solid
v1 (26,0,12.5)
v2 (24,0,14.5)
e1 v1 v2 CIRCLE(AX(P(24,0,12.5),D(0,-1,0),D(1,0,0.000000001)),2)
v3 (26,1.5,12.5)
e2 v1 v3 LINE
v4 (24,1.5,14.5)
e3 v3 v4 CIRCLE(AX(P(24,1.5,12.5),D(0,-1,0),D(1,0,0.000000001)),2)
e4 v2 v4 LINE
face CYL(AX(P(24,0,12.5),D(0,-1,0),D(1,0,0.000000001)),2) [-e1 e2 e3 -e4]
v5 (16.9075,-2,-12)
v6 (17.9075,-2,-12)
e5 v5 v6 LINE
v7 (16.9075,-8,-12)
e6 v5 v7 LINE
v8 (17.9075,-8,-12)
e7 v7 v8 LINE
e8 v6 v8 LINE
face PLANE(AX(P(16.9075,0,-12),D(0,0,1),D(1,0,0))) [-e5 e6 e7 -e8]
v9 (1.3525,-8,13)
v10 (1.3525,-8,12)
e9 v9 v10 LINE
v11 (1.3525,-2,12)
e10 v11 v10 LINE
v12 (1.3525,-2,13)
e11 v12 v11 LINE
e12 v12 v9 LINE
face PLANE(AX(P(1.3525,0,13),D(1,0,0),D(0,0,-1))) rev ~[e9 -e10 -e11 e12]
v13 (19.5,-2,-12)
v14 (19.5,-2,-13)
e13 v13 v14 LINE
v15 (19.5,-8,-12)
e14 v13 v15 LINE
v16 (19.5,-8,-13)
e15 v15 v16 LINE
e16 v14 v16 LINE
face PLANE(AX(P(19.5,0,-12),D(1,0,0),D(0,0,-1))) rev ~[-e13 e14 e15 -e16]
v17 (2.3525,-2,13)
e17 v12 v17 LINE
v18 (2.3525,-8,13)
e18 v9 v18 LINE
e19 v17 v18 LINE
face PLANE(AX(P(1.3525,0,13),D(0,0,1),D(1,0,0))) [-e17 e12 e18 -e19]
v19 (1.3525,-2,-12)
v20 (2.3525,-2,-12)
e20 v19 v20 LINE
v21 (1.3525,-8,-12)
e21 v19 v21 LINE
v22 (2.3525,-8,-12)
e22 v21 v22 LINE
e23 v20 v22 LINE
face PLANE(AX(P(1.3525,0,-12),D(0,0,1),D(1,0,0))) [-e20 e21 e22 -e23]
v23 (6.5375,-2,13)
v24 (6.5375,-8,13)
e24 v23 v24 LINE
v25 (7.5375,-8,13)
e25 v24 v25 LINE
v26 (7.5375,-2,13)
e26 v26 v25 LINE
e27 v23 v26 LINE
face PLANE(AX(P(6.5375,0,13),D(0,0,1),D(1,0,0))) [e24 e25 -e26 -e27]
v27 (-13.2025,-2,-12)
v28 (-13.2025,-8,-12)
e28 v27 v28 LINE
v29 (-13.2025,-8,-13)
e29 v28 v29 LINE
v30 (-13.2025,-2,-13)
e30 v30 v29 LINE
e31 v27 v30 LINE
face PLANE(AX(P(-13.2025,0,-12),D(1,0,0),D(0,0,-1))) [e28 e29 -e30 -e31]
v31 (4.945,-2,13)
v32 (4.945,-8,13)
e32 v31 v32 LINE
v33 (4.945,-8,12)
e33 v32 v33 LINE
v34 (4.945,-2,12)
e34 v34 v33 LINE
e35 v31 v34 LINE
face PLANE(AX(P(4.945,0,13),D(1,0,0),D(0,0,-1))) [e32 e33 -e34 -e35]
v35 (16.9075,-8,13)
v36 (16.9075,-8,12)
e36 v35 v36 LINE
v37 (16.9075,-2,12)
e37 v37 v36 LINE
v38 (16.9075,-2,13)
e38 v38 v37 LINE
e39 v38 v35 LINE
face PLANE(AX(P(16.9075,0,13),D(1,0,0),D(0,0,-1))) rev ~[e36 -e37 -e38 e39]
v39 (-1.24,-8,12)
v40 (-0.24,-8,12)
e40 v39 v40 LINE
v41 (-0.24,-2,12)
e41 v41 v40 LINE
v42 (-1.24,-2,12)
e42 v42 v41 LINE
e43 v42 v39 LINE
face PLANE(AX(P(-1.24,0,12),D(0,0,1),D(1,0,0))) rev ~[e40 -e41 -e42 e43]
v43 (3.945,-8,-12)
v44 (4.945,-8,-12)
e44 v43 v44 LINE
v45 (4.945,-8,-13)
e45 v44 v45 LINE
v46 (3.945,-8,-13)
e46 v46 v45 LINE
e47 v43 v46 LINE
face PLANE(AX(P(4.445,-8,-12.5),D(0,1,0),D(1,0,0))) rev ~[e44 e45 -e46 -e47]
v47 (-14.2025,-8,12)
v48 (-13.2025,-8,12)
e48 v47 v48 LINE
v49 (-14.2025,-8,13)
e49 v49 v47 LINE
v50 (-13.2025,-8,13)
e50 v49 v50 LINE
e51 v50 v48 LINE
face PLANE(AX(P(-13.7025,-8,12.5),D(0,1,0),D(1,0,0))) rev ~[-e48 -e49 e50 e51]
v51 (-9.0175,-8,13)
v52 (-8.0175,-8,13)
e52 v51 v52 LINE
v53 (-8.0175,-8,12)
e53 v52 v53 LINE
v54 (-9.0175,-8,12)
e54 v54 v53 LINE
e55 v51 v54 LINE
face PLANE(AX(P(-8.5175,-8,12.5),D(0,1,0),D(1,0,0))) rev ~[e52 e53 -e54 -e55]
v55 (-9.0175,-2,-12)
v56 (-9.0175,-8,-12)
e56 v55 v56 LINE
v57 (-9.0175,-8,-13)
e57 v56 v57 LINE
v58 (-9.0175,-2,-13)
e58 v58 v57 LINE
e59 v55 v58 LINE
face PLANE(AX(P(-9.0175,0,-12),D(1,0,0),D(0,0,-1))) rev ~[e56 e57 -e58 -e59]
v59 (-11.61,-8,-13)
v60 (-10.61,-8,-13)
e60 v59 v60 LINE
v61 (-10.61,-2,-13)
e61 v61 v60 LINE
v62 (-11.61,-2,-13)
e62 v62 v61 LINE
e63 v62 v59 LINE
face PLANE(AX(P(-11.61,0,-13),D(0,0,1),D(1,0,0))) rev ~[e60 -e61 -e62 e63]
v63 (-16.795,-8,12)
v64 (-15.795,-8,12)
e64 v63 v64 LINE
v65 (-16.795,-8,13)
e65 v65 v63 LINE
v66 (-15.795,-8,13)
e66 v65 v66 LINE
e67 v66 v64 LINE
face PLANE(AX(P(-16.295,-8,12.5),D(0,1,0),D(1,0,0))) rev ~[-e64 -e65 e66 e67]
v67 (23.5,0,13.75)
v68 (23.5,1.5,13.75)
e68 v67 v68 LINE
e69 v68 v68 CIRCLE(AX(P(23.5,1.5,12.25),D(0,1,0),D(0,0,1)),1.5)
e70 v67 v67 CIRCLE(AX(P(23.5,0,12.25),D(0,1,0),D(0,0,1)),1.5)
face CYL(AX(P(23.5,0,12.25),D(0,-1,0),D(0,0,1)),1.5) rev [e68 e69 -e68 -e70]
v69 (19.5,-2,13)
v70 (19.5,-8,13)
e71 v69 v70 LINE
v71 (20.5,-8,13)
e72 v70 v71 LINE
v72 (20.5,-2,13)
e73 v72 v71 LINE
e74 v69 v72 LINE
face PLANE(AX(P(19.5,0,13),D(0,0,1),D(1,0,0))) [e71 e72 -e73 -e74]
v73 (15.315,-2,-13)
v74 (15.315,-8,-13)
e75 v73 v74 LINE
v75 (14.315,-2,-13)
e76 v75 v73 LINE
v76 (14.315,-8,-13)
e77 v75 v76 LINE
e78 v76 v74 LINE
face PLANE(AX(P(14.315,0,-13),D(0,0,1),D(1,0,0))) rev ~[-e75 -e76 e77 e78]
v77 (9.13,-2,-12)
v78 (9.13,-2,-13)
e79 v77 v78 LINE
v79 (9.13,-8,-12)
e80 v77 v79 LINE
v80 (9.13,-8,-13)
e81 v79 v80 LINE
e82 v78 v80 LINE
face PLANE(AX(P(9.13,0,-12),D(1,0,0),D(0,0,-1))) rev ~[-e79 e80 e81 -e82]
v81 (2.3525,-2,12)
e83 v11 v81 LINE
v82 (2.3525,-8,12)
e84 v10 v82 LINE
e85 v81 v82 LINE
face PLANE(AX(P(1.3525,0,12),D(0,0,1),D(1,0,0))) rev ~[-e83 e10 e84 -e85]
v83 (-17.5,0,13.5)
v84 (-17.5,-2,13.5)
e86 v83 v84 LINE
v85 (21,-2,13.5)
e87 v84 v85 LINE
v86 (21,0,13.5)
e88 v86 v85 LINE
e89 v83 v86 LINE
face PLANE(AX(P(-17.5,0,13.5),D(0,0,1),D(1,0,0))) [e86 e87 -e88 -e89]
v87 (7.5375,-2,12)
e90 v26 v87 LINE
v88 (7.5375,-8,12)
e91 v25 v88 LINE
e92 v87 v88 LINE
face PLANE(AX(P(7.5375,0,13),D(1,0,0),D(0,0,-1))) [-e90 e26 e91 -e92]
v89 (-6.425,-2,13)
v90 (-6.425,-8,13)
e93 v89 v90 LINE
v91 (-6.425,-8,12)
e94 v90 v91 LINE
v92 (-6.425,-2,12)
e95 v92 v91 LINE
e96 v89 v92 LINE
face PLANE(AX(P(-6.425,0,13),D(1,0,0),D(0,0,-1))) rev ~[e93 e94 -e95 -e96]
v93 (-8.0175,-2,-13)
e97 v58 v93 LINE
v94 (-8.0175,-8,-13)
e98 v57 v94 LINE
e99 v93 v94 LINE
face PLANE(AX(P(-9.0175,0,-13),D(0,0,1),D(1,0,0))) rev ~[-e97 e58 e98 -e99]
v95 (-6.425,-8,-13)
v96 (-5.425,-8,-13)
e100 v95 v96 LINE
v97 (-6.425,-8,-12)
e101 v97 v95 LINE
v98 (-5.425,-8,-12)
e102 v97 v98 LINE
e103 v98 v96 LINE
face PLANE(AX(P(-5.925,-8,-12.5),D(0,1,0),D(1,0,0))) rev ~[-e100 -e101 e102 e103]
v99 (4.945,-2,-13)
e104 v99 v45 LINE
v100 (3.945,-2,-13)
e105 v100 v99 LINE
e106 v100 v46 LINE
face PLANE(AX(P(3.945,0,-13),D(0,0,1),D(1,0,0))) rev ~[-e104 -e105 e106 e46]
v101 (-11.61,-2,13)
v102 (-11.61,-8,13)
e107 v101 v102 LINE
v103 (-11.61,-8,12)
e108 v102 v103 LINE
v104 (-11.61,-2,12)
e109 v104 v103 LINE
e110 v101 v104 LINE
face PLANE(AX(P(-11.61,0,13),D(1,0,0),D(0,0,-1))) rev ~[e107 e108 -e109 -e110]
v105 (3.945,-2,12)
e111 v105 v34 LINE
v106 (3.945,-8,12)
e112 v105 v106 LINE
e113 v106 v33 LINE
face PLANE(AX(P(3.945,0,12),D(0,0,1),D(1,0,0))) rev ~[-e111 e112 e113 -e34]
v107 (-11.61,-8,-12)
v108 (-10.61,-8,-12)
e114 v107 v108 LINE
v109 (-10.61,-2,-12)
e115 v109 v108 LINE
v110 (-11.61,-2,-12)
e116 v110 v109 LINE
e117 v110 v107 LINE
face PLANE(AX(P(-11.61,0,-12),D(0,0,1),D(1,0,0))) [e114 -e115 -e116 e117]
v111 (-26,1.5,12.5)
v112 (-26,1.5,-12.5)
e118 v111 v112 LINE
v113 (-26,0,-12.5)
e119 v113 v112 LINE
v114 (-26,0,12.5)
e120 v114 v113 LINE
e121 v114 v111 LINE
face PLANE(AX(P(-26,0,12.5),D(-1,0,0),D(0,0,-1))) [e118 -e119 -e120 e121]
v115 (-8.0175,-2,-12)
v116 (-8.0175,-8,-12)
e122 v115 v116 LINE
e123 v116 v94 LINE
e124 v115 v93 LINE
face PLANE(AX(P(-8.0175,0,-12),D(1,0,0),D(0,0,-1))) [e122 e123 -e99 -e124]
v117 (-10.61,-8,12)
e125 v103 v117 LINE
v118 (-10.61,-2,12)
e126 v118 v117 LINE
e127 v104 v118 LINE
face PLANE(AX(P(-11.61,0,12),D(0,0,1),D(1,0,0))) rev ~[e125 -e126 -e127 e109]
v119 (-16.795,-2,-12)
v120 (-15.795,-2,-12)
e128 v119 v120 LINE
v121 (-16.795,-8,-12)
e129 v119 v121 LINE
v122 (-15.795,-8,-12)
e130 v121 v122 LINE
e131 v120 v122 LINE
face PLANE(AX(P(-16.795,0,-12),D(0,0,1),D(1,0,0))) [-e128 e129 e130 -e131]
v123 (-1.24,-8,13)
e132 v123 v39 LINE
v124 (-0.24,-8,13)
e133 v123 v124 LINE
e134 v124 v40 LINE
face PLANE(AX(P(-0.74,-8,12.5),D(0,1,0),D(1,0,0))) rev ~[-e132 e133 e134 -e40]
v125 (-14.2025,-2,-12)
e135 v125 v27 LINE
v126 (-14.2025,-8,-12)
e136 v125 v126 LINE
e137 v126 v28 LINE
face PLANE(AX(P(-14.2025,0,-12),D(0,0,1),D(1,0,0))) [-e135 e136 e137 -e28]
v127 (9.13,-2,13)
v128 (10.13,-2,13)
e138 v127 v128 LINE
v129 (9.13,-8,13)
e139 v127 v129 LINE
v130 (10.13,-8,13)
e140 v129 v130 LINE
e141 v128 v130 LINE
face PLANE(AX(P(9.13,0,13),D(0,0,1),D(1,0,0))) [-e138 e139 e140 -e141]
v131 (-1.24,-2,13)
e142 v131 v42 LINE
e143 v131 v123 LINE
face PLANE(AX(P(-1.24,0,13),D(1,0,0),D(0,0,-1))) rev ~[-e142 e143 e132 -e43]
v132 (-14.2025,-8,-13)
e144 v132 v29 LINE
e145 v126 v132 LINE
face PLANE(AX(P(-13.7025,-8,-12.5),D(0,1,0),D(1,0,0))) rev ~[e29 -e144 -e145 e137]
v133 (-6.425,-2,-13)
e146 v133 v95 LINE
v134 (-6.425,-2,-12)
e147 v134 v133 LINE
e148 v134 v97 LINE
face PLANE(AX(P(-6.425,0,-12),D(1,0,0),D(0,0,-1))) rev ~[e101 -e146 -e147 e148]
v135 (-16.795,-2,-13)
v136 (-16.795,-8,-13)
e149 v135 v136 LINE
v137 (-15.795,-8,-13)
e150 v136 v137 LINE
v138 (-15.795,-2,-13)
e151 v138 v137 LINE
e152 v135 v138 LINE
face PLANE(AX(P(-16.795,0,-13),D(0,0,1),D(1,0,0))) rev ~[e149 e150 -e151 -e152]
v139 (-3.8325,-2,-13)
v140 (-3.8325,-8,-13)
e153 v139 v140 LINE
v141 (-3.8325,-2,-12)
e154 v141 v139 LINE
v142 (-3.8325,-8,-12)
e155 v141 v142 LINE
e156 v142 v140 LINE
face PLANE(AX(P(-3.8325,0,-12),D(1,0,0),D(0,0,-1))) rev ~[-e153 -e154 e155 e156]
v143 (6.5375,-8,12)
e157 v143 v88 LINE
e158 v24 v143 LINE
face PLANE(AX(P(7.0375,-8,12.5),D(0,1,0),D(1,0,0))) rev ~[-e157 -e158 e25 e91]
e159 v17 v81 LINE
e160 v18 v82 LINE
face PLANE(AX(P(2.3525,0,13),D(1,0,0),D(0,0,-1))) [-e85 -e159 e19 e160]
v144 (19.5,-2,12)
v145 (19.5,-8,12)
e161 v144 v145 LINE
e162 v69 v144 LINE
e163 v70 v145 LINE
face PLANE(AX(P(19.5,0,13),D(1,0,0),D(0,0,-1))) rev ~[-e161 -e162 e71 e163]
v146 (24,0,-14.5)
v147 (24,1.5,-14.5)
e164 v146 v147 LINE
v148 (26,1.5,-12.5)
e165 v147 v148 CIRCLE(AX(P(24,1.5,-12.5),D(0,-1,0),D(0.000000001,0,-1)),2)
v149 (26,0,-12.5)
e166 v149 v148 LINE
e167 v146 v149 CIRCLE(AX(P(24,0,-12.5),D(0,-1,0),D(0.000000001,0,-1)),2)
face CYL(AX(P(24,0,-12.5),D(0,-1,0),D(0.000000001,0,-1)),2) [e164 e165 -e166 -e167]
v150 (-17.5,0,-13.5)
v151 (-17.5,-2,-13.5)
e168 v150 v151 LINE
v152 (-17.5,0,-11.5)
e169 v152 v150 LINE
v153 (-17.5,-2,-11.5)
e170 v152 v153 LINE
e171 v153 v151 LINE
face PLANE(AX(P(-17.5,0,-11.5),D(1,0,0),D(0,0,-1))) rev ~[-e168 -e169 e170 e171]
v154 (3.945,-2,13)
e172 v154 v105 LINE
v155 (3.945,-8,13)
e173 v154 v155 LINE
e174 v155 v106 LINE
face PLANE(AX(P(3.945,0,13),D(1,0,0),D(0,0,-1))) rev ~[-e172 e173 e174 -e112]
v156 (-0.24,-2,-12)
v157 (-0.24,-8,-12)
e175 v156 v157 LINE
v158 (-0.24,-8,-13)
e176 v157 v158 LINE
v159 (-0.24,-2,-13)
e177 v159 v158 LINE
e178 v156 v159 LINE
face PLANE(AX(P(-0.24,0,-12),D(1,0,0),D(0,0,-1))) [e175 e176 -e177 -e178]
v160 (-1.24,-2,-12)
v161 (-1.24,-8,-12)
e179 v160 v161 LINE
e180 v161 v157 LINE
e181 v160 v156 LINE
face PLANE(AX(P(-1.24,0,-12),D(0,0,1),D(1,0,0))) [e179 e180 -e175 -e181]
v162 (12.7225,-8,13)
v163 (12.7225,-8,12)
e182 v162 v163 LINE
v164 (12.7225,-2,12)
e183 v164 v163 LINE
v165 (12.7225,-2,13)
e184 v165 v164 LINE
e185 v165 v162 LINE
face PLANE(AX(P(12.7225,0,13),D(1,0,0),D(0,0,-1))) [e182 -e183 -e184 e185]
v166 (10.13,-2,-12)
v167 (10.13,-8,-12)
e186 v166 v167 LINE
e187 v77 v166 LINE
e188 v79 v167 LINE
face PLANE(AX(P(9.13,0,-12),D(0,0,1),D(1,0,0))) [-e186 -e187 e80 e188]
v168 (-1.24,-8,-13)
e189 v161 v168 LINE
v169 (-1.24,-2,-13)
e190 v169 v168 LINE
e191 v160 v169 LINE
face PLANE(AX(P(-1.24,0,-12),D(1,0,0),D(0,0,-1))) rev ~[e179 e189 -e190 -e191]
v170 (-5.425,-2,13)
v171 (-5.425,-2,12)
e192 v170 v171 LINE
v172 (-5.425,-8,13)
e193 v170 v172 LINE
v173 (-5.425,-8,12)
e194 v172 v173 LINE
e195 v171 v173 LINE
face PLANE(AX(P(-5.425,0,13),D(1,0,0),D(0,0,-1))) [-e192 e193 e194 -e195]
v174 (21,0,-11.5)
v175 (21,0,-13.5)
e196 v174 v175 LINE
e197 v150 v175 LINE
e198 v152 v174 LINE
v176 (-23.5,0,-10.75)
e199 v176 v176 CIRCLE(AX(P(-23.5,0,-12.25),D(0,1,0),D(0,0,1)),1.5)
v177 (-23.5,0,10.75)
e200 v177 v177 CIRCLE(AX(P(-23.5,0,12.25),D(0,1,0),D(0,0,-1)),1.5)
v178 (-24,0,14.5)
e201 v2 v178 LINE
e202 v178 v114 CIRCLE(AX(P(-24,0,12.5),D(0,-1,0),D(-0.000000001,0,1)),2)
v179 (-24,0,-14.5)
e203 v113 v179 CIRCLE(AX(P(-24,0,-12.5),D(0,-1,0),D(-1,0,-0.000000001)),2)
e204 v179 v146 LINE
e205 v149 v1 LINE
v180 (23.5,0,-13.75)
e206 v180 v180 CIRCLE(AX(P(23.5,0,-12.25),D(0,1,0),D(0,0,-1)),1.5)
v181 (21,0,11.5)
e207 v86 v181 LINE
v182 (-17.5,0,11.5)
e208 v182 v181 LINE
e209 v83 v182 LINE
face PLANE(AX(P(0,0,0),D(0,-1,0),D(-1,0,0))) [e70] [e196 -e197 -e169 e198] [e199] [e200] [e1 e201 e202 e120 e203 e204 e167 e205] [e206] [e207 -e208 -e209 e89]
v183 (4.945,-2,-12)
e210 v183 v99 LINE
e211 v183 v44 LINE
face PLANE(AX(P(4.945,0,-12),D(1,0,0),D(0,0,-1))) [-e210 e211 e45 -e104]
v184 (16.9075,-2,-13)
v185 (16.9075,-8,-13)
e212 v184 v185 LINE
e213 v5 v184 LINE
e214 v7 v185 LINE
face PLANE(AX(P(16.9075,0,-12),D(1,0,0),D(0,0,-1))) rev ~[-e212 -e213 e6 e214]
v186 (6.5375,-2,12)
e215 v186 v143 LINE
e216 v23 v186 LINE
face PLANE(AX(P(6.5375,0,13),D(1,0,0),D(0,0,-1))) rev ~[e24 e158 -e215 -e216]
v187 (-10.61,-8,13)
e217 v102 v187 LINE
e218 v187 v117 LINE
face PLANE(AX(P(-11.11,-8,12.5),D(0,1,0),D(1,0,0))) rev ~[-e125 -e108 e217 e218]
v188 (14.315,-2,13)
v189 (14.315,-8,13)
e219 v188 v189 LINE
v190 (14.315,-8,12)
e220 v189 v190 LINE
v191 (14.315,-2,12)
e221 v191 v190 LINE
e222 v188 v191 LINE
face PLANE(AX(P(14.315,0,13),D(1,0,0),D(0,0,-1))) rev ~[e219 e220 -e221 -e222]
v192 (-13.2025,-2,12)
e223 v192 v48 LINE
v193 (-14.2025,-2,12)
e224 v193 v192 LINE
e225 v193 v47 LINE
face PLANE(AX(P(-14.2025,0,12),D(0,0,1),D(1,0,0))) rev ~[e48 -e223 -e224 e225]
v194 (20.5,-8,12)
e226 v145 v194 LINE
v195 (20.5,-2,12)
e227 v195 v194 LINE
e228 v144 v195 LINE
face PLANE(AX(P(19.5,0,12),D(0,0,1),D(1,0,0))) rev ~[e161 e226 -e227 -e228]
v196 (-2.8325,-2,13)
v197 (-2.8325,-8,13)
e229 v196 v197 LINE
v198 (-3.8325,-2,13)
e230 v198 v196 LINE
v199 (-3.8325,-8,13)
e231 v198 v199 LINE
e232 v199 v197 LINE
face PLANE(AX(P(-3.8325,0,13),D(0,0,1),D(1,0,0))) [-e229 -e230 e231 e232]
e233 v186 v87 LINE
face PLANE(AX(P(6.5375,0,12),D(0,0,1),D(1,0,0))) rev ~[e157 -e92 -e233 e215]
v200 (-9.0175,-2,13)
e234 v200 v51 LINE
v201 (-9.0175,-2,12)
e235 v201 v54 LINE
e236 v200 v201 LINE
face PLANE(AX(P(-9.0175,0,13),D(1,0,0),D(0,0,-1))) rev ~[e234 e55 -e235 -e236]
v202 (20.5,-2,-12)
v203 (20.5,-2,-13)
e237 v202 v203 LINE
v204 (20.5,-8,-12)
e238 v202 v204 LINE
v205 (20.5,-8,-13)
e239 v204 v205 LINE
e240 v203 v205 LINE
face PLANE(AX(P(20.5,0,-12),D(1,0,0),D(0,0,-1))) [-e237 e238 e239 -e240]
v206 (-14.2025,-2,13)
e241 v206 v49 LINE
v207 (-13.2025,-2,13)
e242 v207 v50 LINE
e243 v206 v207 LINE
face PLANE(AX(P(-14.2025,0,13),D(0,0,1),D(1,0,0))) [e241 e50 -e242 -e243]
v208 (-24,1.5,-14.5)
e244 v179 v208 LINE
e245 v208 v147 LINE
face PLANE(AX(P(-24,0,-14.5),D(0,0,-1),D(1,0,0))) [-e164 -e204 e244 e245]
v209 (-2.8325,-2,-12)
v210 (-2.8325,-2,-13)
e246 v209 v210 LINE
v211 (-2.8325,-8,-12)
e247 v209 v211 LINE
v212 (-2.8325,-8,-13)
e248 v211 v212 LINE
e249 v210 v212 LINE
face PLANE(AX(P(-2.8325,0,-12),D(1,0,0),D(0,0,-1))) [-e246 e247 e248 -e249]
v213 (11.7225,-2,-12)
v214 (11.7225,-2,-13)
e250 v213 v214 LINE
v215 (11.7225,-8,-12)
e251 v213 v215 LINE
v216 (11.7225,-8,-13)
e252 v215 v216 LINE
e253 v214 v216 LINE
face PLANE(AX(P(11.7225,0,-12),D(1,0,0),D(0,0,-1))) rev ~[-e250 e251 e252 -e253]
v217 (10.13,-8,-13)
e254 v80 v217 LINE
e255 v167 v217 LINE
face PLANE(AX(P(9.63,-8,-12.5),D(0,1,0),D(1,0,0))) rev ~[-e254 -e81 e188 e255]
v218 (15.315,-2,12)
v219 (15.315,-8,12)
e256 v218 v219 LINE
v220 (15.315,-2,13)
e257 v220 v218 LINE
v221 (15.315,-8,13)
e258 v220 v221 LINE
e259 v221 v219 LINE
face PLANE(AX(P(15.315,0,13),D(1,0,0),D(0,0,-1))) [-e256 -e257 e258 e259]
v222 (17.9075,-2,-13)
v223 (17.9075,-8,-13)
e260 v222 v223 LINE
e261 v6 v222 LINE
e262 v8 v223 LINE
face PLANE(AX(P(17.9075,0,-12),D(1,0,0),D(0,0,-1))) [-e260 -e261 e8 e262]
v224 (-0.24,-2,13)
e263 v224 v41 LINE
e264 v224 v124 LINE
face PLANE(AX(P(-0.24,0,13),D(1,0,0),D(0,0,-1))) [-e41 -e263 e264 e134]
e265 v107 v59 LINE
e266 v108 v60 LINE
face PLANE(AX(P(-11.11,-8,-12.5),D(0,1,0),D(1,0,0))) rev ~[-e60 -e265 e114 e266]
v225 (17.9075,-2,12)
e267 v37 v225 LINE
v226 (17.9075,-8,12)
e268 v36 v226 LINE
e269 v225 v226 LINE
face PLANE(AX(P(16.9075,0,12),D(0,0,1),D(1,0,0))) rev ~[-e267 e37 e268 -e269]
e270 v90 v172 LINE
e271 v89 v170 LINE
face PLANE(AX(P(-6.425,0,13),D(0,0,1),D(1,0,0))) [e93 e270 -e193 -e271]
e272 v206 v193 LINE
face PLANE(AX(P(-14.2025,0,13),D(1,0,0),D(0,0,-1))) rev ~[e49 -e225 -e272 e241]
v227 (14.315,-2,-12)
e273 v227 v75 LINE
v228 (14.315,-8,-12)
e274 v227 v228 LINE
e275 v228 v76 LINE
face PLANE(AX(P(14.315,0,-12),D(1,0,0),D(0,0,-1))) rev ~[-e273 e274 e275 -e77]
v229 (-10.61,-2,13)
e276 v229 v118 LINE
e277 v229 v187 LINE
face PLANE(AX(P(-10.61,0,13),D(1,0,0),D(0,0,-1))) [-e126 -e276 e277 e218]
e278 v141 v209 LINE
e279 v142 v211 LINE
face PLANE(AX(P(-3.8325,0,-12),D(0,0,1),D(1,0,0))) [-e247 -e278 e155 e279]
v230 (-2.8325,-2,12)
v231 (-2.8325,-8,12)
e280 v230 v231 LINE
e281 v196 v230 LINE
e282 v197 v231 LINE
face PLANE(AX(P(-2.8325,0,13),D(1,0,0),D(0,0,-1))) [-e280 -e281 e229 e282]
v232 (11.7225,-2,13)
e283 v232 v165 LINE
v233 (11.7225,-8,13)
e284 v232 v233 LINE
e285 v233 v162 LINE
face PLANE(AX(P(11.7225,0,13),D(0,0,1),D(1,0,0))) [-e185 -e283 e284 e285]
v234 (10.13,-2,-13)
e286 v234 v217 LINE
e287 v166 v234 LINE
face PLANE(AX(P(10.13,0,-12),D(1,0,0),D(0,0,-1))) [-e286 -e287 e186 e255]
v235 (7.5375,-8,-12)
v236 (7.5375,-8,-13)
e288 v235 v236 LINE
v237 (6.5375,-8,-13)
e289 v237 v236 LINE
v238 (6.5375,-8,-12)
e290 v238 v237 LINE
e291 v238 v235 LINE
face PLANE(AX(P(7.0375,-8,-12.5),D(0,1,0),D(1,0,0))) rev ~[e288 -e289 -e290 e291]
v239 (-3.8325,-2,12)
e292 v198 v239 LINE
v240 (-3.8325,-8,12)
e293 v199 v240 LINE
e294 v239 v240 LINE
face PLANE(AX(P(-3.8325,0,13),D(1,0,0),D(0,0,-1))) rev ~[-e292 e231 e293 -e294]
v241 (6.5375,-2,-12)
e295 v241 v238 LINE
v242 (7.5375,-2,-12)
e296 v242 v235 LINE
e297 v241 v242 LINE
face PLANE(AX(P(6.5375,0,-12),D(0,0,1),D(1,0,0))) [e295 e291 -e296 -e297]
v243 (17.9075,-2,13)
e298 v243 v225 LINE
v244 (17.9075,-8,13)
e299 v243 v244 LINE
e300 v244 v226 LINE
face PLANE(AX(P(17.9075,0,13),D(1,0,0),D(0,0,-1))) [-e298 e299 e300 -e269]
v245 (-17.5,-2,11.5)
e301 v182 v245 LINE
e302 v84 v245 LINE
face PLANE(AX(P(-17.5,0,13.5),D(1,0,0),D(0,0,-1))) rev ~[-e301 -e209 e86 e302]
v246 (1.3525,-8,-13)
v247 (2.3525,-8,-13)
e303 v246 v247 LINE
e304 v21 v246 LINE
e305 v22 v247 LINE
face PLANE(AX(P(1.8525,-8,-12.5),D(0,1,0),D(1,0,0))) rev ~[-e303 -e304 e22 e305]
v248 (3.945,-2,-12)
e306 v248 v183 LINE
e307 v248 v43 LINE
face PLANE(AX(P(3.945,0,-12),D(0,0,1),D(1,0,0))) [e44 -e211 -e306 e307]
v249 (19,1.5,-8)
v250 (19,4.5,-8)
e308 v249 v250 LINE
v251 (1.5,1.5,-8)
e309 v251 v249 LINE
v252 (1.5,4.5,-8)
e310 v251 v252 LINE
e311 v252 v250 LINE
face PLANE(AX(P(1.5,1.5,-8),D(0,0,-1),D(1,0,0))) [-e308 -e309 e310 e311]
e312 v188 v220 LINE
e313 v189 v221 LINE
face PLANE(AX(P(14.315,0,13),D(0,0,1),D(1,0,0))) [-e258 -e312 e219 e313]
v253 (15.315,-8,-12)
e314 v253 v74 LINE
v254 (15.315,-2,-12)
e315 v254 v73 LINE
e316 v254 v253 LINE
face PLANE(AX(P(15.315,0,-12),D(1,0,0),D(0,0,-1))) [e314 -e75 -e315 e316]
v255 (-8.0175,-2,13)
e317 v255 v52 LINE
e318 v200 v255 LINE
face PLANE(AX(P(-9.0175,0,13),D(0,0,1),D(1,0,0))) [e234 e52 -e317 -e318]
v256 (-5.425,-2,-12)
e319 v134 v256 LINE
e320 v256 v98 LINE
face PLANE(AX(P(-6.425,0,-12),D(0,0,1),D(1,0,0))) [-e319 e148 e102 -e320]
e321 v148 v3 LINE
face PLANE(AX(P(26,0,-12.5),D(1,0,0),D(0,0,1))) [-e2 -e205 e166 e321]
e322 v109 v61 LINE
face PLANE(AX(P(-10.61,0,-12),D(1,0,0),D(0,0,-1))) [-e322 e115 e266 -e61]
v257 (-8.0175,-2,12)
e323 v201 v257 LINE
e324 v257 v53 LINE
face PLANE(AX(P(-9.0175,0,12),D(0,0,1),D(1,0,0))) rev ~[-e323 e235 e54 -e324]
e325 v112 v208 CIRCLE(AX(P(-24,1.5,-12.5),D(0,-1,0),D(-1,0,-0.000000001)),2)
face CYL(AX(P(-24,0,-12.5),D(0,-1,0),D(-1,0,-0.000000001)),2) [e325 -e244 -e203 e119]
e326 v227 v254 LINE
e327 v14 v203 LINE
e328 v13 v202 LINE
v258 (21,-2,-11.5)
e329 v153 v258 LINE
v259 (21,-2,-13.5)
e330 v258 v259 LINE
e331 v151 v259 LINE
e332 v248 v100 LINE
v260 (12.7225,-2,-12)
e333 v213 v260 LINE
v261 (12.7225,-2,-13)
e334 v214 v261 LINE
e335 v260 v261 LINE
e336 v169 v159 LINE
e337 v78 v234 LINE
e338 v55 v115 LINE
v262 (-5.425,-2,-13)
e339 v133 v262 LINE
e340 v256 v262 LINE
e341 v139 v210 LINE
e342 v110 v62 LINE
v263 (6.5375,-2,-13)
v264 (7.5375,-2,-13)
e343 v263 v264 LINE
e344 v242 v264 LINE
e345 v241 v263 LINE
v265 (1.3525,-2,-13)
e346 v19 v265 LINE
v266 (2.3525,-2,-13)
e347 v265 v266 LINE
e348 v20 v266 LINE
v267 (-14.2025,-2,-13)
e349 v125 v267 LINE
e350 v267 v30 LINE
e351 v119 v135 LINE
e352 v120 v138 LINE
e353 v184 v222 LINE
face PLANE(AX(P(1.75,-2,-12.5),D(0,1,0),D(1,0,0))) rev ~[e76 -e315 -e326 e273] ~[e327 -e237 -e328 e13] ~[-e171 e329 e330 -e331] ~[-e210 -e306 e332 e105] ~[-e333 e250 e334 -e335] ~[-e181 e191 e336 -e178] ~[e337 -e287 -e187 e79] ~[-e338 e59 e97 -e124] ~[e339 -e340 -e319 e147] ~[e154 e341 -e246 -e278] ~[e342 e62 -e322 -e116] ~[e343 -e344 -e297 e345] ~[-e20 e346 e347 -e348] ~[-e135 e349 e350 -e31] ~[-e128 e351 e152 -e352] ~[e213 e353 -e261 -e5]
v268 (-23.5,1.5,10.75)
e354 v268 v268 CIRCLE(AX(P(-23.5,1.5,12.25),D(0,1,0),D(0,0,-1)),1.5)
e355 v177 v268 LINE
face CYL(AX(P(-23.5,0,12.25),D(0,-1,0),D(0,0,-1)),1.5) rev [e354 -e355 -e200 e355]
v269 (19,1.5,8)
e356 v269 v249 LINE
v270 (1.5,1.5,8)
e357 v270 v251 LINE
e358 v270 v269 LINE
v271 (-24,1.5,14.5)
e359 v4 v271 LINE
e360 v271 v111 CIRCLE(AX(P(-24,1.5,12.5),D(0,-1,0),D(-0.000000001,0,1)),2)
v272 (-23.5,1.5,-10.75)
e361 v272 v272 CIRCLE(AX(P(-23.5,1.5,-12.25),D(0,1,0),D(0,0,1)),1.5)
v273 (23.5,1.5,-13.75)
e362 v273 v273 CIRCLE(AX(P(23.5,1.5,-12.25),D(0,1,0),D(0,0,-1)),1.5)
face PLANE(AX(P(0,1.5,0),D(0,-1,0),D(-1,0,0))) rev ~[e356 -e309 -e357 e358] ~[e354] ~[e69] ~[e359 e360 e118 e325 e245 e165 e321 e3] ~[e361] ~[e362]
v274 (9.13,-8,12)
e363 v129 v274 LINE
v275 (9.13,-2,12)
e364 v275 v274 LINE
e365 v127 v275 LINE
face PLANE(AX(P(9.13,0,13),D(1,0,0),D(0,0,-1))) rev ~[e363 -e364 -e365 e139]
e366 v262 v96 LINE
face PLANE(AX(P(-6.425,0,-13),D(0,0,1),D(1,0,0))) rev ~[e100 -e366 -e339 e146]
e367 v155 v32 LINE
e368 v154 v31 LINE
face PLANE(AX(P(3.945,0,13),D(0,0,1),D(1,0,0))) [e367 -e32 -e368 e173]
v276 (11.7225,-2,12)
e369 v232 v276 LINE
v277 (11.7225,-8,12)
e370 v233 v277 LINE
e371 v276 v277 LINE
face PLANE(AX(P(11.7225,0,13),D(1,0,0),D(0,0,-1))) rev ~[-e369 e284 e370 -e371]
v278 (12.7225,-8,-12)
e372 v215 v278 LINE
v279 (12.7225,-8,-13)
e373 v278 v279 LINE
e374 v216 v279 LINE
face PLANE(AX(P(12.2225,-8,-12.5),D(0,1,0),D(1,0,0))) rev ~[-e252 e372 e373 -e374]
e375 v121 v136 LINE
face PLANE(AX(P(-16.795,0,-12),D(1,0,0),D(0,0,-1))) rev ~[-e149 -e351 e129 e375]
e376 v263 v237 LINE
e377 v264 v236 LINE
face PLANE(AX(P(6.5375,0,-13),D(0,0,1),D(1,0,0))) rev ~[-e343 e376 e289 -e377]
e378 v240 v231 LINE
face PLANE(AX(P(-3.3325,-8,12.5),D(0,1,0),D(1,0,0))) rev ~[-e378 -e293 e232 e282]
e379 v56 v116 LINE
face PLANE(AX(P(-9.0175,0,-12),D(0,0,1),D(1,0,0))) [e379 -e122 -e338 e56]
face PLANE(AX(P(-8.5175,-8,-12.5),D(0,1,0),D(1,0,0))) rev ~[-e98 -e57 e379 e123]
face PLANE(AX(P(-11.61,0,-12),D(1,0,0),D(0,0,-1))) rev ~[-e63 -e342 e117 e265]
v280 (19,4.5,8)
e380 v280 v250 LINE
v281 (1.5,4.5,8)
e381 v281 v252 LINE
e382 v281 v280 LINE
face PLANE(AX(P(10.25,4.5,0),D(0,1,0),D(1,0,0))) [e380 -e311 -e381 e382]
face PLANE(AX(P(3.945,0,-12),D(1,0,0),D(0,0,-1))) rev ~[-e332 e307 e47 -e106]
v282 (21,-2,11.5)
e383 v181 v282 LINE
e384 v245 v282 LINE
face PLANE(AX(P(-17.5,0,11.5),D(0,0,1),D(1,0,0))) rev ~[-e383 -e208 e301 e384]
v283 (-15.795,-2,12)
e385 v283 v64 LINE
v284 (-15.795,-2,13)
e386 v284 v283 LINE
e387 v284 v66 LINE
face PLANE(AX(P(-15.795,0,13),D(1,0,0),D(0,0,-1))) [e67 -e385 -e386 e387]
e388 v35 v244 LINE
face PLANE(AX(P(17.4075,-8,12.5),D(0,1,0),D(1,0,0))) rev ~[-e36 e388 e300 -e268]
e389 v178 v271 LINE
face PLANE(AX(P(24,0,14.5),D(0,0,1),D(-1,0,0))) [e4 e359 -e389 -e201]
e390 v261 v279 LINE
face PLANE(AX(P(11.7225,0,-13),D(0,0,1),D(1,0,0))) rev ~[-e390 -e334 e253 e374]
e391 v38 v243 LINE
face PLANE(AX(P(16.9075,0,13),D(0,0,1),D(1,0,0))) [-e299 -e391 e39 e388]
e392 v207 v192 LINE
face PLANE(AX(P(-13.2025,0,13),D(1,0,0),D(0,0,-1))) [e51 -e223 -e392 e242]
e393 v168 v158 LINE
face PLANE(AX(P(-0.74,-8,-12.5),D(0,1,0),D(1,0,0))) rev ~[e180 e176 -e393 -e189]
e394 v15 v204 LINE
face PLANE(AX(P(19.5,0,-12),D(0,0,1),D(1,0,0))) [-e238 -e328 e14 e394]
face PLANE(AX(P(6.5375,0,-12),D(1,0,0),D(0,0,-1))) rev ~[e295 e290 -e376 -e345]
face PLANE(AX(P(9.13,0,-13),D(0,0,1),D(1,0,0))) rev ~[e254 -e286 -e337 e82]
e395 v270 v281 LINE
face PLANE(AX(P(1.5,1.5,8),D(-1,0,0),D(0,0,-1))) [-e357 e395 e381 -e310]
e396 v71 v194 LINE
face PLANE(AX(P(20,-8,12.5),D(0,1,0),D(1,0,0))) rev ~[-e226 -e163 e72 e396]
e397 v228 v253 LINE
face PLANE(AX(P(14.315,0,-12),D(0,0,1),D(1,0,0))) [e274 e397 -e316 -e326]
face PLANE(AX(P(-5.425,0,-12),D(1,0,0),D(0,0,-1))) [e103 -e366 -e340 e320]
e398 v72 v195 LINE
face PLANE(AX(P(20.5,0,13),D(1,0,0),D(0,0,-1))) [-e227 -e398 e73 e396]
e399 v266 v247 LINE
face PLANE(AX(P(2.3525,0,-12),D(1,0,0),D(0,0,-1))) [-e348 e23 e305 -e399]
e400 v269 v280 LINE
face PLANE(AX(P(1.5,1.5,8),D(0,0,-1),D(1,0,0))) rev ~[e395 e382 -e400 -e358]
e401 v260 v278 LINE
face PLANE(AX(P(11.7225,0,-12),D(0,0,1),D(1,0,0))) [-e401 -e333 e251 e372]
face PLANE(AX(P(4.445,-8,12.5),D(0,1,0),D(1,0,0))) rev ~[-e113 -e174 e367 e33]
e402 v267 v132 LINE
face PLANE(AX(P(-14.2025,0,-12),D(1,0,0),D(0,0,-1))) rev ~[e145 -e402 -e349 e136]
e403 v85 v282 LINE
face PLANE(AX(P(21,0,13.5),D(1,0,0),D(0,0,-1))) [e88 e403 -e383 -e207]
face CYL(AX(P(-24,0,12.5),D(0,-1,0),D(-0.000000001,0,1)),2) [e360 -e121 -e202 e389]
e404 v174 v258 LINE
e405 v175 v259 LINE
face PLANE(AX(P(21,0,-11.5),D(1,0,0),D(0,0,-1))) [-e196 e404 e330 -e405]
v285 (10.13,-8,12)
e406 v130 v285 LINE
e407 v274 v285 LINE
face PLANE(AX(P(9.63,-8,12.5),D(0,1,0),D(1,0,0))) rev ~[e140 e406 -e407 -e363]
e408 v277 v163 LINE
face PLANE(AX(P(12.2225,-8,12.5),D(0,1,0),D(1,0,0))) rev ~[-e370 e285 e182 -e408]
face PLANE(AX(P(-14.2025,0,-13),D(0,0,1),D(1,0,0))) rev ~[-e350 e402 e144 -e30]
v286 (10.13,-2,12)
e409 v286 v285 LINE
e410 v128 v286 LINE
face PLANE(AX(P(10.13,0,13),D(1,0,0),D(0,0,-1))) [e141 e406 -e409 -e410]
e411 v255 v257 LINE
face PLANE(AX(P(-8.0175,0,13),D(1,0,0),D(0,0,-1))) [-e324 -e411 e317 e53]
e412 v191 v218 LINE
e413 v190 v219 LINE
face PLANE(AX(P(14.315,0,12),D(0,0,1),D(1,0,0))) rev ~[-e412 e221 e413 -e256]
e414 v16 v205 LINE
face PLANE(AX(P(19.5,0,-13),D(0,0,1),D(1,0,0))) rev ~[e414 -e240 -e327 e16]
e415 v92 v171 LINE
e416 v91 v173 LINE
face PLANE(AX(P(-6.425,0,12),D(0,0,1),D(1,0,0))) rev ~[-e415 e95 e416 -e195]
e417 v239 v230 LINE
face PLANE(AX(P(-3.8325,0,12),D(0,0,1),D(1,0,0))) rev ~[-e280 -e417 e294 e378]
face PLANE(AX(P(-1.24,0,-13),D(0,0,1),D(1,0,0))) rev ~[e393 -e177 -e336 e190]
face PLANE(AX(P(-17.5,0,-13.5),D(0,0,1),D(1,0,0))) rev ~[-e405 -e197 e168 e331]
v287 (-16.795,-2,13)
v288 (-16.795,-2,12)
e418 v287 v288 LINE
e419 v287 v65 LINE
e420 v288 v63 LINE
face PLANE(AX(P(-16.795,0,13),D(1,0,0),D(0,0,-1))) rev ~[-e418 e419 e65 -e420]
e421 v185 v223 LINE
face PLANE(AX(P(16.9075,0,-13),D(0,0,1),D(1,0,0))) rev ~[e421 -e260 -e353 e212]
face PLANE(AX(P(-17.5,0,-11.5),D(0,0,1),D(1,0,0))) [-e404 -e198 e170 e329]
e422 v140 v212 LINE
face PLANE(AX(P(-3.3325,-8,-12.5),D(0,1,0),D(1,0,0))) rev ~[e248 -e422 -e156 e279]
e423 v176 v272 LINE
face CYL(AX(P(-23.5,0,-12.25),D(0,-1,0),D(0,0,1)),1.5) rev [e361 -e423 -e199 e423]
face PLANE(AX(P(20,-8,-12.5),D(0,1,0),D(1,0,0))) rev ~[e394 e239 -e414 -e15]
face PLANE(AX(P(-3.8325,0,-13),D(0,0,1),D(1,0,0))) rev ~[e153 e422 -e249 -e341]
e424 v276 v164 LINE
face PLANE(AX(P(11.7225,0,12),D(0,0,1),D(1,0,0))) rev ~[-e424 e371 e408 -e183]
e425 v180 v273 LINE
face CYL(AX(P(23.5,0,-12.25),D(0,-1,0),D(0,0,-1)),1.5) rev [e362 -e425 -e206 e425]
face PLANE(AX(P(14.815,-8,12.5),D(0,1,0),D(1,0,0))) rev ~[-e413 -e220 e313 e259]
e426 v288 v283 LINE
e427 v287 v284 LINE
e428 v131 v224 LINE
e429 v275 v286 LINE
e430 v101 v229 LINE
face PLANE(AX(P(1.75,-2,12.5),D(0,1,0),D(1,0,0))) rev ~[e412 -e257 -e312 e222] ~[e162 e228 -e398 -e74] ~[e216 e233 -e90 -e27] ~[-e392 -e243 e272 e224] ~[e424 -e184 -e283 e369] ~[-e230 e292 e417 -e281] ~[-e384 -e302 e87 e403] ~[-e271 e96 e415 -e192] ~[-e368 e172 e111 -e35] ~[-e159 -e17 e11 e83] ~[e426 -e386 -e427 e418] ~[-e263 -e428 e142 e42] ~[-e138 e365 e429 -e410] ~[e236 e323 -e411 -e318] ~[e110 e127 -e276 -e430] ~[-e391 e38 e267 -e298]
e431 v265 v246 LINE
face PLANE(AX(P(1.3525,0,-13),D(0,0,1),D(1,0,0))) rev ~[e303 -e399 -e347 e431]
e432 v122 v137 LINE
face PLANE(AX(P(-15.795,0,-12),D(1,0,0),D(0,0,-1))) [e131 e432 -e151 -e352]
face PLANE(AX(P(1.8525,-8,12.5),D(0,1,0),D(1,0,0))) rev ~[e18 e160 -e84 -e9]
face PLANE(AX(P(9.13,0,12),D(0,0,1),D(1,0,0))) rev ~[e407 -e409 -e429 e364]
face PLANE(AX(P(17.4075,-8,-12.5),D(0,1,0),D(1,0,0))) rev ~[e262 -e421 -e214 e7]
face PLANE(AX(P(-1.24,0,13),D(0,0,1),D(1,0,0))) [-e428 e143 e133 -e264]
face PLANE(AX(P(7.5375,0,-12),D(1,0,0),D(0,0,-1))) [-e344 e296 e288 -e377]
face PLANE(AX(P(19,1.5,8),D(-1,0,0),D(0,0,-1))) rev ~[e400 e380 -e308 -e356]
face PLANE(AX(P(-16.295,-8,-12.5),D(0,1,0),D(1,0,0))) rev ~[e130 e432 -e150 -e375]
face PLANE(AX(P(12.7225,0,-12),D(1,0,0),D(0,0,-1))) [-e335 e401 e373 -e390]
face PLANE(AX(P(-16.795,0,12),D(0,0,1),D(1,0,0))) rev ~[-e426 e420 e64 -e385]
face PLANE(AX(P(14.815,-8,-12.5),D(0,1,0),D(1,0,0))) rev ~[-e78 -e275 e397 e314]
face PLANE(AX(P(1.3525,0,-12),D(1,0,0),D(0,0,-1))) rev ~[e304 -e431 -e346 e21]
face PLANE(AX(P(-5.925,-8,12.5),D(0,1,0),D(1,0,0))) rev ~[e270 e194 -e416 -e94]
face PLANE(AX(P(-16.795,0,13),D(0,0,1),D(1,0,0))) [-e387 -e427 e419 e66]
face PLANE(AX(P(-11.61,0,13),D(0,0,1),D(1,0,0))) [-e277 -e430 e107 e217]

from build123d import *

# Parameters (mm, degrees)
SKETCH1_R           = 1.5
BOSS_EXTRUDE1_DEPTH = 1.5
SKETCH2_W           = 38.5
SKETCH2_H           = 2
BOSS_EXTRUDE2_DEPTH = 2
SKETCH3_W           = 17.5
SKETCH3_H           = 16
BOSS_EXTRUDE3_DEPTH = 3
SKETCH4_W           = 1
SKETCH4_H           = 1
BOSS_EXTRUDE4_DEPTH = 8


with BuildPart() as part:
    # Sketch1 → Boss-Extrude1 (new body)
    with BuildSketch(Plane(origin=(0, 0, 0), x_dir=(1, 0, 0), z_dir=(0, 1, 0))):
        with BuildLine():
            Line((24, -14.5), (-24, -14.5))
            ThreePointArc((-24, -14.5), (-25.414213562, -13.914213562), (-26, -12.5))
            Line((-26, -12.5), (-26, 12.5))
            ThreePointArc((-26, 12.5), (-25.414213562, 13.914213562), (-24, 14.5))
            Line((-24, 14.5), (24, 14.5))
            ThreePointArc((24, 14.5), (25.414213562, 13.914213562), (26, 12.5))
            Line((26, 12.5), (26, -12.5))
            ThreePointArc((26, -12.5), (25.414213562, -13.914213562), (24, -14.5))
        make_face()
        with Locations(Location((-23.5, 12.25, 0), (0, 0, 270))):
            Circle(SKETCH1_R, mode=Mode.SUBTRACT)
        with Locations(Location((23.5, 12.25, 0), (0, 0, 90))):
            Circle(SKETCH1_R, mode=Mode.SUBTRACT)
        with Locations(Location((23.5, -12.25, 0), (0, 0, 270))):
            Circle(SKETCH1_R, mode=Mode.SUBTRACT)
        with Locations(Location((-23.5, -12.25, 0), (0, 0, 90))):
            Circle(SKETCH1_R, mode=Mode.SUBTRACT)
    extrude(amount=BOSS_EXTRUDE1_DEPTH)

    # Sketch2 → Boss-Extrude2 (add)
    with BuildSketch(Plane(origin=(0, 0, 0), x_dir=(1, 0, 0), z_dir=(0, 1, 0))):
        with Locations((1.75, -12.5)):
            Rectangle(SKETCH2_W, SKETCH2_H)
        with Locations((1.75, 12.5)):
            Rectangle(SKETCH2_W, SKETCH2_H)
    extrude(amount=-BOSS_EXTRUDE2_DEPTH)

    # Sketch3 → Boss-Extrude3 (add)
    with BuildSketch(Plane(origin=(0, 1.5, 0), x_dir=(1, 0, 0), z_dir=(0, 1, 0))):
        with Locations((10.25, 0)):
            Rectangle(SKETCH3_W, SKETCH3_H)
    extrude(amount=BOSS_EXTRUDE3_DEPTH)

    # Sketch4 → Boss-Extrude4 (add)
    with BuildSketch(Plane(origin=(0, 0, 0), x_dir=(1, 0, 0), z_dir=(0, 1, 0))):
        with Locations((20, 12.5)):
            Rectangle(SKETCH4_W, SKETCH4_H)
        with Locations((17.4075, 12.5)):
            Rectangle(SKETCH4_W, SKETCH4_H)
        with Locations((14.815, 12.5)):
            Rectangle(SKETCH4_W, SKETCH4_H)
        with Locations((12.2225, 12.5)):
            Rectangle(SKETCH4_W, SKETCH4_H)
        with Locations((9.63, 12.5)):
            Rectangle(SKETCH4_W, SKETCH4_H)
        with Locations((7.0375, 12.5)):
            Rectangle(SKETCH4_W, SKETCH4_H)
        with Locations((4.445, 12.5)):
            Rectangle(SKETCH4_W, SKETCH4_H)
        with Locations((1.8525, 12.5)):
            Rectangle(SKETCH4_W, SKETCH4_H)
        with Locations((-0.74, 12.5)):
            Rectangle(SKETCH4_W, SKETCH4_H)
        with Locations((-3.3325, 12.5)):
            Rectangle(SKETCH4_W, SKETCH4_H)
        with Locations((-5.925, 12.5)):
            Rectangle(SKETCH4_W, SKETCH4_H)
        with Locations((-8.5175, 12.5)):
            Rectangle(SKETCH4_W, SKETCH4_H)
        with Locations((-11.11, 12.5)):
            Rectangle(SKETCH4_W, SKETCH4_H)
        with Locations((-13.7025, 12.5)):
            Rectangle(SKETCH4_W, SKETCH4_H)
        with Locations((-16.295, 12.5)):
            Rectangle(SKETCH4_W, SKETCH4_H)
        with Locations((-16.295, -12.5)):
            Rectangle(SKETCH4_W, SKETCH4_H)
        with Locations((-13.7025, -12.5)):
            Rectangle(SKETCH4_W, SKETCH4_H)
        with Locations((-11.11, -12.5)):
            Rectangle(SKETCH4_W, SKETCH4_H)
        with Locations((-8.5175, -12.5)):
            Rectangle(SKETCH4_W, SKETCH4_H)
        with Locations((-5.925, -12.5)):
            Rectangle(SKETCH4_W, SKETCH4_H)
        with Locations((-3.3325, -12.5)):
            Rectangle(SKETCH4_W, SKETCH4_H)
        with Locations((-0.74, -12.5)):
            Rectangle(SKETCH4_W, SKETCH4_H)
        with Locations((1.8525, -12.5)):
            Rectangle(SKETCH4_W, SKETCH4_H)
        with Locations((4.445, -12.5)):
            Rectangle(SKETCH4_W, SKETCH4_H)
        with Locations((7.0375, -12.5)):
            Rectangle(SKETCH4_W, SKETCH4_H)
        with Locations((9.63, -12.5)):
            Rectangle(SKETCH4_W, SKETCH4_H)
        with Locations((12.2225, -12.5)):
            Rectangle(SKETCH4_W, SKETCH4_H)
        with Locations((14.815, -12.5)):
            Rectangle(SKETCH4_W, SKETCH4_H)
        with Locations((17.4075, -12.5)):
            Rectangle(SKETCH4_W, SKETCH4_H)
        with Locations((20, -12.5)):
            Rectangle(SKETCH4_W, SKETCH4_H)
    extrude(amount=-BOSS_EXTRUDE4_DEPTH)


solid = part.part
